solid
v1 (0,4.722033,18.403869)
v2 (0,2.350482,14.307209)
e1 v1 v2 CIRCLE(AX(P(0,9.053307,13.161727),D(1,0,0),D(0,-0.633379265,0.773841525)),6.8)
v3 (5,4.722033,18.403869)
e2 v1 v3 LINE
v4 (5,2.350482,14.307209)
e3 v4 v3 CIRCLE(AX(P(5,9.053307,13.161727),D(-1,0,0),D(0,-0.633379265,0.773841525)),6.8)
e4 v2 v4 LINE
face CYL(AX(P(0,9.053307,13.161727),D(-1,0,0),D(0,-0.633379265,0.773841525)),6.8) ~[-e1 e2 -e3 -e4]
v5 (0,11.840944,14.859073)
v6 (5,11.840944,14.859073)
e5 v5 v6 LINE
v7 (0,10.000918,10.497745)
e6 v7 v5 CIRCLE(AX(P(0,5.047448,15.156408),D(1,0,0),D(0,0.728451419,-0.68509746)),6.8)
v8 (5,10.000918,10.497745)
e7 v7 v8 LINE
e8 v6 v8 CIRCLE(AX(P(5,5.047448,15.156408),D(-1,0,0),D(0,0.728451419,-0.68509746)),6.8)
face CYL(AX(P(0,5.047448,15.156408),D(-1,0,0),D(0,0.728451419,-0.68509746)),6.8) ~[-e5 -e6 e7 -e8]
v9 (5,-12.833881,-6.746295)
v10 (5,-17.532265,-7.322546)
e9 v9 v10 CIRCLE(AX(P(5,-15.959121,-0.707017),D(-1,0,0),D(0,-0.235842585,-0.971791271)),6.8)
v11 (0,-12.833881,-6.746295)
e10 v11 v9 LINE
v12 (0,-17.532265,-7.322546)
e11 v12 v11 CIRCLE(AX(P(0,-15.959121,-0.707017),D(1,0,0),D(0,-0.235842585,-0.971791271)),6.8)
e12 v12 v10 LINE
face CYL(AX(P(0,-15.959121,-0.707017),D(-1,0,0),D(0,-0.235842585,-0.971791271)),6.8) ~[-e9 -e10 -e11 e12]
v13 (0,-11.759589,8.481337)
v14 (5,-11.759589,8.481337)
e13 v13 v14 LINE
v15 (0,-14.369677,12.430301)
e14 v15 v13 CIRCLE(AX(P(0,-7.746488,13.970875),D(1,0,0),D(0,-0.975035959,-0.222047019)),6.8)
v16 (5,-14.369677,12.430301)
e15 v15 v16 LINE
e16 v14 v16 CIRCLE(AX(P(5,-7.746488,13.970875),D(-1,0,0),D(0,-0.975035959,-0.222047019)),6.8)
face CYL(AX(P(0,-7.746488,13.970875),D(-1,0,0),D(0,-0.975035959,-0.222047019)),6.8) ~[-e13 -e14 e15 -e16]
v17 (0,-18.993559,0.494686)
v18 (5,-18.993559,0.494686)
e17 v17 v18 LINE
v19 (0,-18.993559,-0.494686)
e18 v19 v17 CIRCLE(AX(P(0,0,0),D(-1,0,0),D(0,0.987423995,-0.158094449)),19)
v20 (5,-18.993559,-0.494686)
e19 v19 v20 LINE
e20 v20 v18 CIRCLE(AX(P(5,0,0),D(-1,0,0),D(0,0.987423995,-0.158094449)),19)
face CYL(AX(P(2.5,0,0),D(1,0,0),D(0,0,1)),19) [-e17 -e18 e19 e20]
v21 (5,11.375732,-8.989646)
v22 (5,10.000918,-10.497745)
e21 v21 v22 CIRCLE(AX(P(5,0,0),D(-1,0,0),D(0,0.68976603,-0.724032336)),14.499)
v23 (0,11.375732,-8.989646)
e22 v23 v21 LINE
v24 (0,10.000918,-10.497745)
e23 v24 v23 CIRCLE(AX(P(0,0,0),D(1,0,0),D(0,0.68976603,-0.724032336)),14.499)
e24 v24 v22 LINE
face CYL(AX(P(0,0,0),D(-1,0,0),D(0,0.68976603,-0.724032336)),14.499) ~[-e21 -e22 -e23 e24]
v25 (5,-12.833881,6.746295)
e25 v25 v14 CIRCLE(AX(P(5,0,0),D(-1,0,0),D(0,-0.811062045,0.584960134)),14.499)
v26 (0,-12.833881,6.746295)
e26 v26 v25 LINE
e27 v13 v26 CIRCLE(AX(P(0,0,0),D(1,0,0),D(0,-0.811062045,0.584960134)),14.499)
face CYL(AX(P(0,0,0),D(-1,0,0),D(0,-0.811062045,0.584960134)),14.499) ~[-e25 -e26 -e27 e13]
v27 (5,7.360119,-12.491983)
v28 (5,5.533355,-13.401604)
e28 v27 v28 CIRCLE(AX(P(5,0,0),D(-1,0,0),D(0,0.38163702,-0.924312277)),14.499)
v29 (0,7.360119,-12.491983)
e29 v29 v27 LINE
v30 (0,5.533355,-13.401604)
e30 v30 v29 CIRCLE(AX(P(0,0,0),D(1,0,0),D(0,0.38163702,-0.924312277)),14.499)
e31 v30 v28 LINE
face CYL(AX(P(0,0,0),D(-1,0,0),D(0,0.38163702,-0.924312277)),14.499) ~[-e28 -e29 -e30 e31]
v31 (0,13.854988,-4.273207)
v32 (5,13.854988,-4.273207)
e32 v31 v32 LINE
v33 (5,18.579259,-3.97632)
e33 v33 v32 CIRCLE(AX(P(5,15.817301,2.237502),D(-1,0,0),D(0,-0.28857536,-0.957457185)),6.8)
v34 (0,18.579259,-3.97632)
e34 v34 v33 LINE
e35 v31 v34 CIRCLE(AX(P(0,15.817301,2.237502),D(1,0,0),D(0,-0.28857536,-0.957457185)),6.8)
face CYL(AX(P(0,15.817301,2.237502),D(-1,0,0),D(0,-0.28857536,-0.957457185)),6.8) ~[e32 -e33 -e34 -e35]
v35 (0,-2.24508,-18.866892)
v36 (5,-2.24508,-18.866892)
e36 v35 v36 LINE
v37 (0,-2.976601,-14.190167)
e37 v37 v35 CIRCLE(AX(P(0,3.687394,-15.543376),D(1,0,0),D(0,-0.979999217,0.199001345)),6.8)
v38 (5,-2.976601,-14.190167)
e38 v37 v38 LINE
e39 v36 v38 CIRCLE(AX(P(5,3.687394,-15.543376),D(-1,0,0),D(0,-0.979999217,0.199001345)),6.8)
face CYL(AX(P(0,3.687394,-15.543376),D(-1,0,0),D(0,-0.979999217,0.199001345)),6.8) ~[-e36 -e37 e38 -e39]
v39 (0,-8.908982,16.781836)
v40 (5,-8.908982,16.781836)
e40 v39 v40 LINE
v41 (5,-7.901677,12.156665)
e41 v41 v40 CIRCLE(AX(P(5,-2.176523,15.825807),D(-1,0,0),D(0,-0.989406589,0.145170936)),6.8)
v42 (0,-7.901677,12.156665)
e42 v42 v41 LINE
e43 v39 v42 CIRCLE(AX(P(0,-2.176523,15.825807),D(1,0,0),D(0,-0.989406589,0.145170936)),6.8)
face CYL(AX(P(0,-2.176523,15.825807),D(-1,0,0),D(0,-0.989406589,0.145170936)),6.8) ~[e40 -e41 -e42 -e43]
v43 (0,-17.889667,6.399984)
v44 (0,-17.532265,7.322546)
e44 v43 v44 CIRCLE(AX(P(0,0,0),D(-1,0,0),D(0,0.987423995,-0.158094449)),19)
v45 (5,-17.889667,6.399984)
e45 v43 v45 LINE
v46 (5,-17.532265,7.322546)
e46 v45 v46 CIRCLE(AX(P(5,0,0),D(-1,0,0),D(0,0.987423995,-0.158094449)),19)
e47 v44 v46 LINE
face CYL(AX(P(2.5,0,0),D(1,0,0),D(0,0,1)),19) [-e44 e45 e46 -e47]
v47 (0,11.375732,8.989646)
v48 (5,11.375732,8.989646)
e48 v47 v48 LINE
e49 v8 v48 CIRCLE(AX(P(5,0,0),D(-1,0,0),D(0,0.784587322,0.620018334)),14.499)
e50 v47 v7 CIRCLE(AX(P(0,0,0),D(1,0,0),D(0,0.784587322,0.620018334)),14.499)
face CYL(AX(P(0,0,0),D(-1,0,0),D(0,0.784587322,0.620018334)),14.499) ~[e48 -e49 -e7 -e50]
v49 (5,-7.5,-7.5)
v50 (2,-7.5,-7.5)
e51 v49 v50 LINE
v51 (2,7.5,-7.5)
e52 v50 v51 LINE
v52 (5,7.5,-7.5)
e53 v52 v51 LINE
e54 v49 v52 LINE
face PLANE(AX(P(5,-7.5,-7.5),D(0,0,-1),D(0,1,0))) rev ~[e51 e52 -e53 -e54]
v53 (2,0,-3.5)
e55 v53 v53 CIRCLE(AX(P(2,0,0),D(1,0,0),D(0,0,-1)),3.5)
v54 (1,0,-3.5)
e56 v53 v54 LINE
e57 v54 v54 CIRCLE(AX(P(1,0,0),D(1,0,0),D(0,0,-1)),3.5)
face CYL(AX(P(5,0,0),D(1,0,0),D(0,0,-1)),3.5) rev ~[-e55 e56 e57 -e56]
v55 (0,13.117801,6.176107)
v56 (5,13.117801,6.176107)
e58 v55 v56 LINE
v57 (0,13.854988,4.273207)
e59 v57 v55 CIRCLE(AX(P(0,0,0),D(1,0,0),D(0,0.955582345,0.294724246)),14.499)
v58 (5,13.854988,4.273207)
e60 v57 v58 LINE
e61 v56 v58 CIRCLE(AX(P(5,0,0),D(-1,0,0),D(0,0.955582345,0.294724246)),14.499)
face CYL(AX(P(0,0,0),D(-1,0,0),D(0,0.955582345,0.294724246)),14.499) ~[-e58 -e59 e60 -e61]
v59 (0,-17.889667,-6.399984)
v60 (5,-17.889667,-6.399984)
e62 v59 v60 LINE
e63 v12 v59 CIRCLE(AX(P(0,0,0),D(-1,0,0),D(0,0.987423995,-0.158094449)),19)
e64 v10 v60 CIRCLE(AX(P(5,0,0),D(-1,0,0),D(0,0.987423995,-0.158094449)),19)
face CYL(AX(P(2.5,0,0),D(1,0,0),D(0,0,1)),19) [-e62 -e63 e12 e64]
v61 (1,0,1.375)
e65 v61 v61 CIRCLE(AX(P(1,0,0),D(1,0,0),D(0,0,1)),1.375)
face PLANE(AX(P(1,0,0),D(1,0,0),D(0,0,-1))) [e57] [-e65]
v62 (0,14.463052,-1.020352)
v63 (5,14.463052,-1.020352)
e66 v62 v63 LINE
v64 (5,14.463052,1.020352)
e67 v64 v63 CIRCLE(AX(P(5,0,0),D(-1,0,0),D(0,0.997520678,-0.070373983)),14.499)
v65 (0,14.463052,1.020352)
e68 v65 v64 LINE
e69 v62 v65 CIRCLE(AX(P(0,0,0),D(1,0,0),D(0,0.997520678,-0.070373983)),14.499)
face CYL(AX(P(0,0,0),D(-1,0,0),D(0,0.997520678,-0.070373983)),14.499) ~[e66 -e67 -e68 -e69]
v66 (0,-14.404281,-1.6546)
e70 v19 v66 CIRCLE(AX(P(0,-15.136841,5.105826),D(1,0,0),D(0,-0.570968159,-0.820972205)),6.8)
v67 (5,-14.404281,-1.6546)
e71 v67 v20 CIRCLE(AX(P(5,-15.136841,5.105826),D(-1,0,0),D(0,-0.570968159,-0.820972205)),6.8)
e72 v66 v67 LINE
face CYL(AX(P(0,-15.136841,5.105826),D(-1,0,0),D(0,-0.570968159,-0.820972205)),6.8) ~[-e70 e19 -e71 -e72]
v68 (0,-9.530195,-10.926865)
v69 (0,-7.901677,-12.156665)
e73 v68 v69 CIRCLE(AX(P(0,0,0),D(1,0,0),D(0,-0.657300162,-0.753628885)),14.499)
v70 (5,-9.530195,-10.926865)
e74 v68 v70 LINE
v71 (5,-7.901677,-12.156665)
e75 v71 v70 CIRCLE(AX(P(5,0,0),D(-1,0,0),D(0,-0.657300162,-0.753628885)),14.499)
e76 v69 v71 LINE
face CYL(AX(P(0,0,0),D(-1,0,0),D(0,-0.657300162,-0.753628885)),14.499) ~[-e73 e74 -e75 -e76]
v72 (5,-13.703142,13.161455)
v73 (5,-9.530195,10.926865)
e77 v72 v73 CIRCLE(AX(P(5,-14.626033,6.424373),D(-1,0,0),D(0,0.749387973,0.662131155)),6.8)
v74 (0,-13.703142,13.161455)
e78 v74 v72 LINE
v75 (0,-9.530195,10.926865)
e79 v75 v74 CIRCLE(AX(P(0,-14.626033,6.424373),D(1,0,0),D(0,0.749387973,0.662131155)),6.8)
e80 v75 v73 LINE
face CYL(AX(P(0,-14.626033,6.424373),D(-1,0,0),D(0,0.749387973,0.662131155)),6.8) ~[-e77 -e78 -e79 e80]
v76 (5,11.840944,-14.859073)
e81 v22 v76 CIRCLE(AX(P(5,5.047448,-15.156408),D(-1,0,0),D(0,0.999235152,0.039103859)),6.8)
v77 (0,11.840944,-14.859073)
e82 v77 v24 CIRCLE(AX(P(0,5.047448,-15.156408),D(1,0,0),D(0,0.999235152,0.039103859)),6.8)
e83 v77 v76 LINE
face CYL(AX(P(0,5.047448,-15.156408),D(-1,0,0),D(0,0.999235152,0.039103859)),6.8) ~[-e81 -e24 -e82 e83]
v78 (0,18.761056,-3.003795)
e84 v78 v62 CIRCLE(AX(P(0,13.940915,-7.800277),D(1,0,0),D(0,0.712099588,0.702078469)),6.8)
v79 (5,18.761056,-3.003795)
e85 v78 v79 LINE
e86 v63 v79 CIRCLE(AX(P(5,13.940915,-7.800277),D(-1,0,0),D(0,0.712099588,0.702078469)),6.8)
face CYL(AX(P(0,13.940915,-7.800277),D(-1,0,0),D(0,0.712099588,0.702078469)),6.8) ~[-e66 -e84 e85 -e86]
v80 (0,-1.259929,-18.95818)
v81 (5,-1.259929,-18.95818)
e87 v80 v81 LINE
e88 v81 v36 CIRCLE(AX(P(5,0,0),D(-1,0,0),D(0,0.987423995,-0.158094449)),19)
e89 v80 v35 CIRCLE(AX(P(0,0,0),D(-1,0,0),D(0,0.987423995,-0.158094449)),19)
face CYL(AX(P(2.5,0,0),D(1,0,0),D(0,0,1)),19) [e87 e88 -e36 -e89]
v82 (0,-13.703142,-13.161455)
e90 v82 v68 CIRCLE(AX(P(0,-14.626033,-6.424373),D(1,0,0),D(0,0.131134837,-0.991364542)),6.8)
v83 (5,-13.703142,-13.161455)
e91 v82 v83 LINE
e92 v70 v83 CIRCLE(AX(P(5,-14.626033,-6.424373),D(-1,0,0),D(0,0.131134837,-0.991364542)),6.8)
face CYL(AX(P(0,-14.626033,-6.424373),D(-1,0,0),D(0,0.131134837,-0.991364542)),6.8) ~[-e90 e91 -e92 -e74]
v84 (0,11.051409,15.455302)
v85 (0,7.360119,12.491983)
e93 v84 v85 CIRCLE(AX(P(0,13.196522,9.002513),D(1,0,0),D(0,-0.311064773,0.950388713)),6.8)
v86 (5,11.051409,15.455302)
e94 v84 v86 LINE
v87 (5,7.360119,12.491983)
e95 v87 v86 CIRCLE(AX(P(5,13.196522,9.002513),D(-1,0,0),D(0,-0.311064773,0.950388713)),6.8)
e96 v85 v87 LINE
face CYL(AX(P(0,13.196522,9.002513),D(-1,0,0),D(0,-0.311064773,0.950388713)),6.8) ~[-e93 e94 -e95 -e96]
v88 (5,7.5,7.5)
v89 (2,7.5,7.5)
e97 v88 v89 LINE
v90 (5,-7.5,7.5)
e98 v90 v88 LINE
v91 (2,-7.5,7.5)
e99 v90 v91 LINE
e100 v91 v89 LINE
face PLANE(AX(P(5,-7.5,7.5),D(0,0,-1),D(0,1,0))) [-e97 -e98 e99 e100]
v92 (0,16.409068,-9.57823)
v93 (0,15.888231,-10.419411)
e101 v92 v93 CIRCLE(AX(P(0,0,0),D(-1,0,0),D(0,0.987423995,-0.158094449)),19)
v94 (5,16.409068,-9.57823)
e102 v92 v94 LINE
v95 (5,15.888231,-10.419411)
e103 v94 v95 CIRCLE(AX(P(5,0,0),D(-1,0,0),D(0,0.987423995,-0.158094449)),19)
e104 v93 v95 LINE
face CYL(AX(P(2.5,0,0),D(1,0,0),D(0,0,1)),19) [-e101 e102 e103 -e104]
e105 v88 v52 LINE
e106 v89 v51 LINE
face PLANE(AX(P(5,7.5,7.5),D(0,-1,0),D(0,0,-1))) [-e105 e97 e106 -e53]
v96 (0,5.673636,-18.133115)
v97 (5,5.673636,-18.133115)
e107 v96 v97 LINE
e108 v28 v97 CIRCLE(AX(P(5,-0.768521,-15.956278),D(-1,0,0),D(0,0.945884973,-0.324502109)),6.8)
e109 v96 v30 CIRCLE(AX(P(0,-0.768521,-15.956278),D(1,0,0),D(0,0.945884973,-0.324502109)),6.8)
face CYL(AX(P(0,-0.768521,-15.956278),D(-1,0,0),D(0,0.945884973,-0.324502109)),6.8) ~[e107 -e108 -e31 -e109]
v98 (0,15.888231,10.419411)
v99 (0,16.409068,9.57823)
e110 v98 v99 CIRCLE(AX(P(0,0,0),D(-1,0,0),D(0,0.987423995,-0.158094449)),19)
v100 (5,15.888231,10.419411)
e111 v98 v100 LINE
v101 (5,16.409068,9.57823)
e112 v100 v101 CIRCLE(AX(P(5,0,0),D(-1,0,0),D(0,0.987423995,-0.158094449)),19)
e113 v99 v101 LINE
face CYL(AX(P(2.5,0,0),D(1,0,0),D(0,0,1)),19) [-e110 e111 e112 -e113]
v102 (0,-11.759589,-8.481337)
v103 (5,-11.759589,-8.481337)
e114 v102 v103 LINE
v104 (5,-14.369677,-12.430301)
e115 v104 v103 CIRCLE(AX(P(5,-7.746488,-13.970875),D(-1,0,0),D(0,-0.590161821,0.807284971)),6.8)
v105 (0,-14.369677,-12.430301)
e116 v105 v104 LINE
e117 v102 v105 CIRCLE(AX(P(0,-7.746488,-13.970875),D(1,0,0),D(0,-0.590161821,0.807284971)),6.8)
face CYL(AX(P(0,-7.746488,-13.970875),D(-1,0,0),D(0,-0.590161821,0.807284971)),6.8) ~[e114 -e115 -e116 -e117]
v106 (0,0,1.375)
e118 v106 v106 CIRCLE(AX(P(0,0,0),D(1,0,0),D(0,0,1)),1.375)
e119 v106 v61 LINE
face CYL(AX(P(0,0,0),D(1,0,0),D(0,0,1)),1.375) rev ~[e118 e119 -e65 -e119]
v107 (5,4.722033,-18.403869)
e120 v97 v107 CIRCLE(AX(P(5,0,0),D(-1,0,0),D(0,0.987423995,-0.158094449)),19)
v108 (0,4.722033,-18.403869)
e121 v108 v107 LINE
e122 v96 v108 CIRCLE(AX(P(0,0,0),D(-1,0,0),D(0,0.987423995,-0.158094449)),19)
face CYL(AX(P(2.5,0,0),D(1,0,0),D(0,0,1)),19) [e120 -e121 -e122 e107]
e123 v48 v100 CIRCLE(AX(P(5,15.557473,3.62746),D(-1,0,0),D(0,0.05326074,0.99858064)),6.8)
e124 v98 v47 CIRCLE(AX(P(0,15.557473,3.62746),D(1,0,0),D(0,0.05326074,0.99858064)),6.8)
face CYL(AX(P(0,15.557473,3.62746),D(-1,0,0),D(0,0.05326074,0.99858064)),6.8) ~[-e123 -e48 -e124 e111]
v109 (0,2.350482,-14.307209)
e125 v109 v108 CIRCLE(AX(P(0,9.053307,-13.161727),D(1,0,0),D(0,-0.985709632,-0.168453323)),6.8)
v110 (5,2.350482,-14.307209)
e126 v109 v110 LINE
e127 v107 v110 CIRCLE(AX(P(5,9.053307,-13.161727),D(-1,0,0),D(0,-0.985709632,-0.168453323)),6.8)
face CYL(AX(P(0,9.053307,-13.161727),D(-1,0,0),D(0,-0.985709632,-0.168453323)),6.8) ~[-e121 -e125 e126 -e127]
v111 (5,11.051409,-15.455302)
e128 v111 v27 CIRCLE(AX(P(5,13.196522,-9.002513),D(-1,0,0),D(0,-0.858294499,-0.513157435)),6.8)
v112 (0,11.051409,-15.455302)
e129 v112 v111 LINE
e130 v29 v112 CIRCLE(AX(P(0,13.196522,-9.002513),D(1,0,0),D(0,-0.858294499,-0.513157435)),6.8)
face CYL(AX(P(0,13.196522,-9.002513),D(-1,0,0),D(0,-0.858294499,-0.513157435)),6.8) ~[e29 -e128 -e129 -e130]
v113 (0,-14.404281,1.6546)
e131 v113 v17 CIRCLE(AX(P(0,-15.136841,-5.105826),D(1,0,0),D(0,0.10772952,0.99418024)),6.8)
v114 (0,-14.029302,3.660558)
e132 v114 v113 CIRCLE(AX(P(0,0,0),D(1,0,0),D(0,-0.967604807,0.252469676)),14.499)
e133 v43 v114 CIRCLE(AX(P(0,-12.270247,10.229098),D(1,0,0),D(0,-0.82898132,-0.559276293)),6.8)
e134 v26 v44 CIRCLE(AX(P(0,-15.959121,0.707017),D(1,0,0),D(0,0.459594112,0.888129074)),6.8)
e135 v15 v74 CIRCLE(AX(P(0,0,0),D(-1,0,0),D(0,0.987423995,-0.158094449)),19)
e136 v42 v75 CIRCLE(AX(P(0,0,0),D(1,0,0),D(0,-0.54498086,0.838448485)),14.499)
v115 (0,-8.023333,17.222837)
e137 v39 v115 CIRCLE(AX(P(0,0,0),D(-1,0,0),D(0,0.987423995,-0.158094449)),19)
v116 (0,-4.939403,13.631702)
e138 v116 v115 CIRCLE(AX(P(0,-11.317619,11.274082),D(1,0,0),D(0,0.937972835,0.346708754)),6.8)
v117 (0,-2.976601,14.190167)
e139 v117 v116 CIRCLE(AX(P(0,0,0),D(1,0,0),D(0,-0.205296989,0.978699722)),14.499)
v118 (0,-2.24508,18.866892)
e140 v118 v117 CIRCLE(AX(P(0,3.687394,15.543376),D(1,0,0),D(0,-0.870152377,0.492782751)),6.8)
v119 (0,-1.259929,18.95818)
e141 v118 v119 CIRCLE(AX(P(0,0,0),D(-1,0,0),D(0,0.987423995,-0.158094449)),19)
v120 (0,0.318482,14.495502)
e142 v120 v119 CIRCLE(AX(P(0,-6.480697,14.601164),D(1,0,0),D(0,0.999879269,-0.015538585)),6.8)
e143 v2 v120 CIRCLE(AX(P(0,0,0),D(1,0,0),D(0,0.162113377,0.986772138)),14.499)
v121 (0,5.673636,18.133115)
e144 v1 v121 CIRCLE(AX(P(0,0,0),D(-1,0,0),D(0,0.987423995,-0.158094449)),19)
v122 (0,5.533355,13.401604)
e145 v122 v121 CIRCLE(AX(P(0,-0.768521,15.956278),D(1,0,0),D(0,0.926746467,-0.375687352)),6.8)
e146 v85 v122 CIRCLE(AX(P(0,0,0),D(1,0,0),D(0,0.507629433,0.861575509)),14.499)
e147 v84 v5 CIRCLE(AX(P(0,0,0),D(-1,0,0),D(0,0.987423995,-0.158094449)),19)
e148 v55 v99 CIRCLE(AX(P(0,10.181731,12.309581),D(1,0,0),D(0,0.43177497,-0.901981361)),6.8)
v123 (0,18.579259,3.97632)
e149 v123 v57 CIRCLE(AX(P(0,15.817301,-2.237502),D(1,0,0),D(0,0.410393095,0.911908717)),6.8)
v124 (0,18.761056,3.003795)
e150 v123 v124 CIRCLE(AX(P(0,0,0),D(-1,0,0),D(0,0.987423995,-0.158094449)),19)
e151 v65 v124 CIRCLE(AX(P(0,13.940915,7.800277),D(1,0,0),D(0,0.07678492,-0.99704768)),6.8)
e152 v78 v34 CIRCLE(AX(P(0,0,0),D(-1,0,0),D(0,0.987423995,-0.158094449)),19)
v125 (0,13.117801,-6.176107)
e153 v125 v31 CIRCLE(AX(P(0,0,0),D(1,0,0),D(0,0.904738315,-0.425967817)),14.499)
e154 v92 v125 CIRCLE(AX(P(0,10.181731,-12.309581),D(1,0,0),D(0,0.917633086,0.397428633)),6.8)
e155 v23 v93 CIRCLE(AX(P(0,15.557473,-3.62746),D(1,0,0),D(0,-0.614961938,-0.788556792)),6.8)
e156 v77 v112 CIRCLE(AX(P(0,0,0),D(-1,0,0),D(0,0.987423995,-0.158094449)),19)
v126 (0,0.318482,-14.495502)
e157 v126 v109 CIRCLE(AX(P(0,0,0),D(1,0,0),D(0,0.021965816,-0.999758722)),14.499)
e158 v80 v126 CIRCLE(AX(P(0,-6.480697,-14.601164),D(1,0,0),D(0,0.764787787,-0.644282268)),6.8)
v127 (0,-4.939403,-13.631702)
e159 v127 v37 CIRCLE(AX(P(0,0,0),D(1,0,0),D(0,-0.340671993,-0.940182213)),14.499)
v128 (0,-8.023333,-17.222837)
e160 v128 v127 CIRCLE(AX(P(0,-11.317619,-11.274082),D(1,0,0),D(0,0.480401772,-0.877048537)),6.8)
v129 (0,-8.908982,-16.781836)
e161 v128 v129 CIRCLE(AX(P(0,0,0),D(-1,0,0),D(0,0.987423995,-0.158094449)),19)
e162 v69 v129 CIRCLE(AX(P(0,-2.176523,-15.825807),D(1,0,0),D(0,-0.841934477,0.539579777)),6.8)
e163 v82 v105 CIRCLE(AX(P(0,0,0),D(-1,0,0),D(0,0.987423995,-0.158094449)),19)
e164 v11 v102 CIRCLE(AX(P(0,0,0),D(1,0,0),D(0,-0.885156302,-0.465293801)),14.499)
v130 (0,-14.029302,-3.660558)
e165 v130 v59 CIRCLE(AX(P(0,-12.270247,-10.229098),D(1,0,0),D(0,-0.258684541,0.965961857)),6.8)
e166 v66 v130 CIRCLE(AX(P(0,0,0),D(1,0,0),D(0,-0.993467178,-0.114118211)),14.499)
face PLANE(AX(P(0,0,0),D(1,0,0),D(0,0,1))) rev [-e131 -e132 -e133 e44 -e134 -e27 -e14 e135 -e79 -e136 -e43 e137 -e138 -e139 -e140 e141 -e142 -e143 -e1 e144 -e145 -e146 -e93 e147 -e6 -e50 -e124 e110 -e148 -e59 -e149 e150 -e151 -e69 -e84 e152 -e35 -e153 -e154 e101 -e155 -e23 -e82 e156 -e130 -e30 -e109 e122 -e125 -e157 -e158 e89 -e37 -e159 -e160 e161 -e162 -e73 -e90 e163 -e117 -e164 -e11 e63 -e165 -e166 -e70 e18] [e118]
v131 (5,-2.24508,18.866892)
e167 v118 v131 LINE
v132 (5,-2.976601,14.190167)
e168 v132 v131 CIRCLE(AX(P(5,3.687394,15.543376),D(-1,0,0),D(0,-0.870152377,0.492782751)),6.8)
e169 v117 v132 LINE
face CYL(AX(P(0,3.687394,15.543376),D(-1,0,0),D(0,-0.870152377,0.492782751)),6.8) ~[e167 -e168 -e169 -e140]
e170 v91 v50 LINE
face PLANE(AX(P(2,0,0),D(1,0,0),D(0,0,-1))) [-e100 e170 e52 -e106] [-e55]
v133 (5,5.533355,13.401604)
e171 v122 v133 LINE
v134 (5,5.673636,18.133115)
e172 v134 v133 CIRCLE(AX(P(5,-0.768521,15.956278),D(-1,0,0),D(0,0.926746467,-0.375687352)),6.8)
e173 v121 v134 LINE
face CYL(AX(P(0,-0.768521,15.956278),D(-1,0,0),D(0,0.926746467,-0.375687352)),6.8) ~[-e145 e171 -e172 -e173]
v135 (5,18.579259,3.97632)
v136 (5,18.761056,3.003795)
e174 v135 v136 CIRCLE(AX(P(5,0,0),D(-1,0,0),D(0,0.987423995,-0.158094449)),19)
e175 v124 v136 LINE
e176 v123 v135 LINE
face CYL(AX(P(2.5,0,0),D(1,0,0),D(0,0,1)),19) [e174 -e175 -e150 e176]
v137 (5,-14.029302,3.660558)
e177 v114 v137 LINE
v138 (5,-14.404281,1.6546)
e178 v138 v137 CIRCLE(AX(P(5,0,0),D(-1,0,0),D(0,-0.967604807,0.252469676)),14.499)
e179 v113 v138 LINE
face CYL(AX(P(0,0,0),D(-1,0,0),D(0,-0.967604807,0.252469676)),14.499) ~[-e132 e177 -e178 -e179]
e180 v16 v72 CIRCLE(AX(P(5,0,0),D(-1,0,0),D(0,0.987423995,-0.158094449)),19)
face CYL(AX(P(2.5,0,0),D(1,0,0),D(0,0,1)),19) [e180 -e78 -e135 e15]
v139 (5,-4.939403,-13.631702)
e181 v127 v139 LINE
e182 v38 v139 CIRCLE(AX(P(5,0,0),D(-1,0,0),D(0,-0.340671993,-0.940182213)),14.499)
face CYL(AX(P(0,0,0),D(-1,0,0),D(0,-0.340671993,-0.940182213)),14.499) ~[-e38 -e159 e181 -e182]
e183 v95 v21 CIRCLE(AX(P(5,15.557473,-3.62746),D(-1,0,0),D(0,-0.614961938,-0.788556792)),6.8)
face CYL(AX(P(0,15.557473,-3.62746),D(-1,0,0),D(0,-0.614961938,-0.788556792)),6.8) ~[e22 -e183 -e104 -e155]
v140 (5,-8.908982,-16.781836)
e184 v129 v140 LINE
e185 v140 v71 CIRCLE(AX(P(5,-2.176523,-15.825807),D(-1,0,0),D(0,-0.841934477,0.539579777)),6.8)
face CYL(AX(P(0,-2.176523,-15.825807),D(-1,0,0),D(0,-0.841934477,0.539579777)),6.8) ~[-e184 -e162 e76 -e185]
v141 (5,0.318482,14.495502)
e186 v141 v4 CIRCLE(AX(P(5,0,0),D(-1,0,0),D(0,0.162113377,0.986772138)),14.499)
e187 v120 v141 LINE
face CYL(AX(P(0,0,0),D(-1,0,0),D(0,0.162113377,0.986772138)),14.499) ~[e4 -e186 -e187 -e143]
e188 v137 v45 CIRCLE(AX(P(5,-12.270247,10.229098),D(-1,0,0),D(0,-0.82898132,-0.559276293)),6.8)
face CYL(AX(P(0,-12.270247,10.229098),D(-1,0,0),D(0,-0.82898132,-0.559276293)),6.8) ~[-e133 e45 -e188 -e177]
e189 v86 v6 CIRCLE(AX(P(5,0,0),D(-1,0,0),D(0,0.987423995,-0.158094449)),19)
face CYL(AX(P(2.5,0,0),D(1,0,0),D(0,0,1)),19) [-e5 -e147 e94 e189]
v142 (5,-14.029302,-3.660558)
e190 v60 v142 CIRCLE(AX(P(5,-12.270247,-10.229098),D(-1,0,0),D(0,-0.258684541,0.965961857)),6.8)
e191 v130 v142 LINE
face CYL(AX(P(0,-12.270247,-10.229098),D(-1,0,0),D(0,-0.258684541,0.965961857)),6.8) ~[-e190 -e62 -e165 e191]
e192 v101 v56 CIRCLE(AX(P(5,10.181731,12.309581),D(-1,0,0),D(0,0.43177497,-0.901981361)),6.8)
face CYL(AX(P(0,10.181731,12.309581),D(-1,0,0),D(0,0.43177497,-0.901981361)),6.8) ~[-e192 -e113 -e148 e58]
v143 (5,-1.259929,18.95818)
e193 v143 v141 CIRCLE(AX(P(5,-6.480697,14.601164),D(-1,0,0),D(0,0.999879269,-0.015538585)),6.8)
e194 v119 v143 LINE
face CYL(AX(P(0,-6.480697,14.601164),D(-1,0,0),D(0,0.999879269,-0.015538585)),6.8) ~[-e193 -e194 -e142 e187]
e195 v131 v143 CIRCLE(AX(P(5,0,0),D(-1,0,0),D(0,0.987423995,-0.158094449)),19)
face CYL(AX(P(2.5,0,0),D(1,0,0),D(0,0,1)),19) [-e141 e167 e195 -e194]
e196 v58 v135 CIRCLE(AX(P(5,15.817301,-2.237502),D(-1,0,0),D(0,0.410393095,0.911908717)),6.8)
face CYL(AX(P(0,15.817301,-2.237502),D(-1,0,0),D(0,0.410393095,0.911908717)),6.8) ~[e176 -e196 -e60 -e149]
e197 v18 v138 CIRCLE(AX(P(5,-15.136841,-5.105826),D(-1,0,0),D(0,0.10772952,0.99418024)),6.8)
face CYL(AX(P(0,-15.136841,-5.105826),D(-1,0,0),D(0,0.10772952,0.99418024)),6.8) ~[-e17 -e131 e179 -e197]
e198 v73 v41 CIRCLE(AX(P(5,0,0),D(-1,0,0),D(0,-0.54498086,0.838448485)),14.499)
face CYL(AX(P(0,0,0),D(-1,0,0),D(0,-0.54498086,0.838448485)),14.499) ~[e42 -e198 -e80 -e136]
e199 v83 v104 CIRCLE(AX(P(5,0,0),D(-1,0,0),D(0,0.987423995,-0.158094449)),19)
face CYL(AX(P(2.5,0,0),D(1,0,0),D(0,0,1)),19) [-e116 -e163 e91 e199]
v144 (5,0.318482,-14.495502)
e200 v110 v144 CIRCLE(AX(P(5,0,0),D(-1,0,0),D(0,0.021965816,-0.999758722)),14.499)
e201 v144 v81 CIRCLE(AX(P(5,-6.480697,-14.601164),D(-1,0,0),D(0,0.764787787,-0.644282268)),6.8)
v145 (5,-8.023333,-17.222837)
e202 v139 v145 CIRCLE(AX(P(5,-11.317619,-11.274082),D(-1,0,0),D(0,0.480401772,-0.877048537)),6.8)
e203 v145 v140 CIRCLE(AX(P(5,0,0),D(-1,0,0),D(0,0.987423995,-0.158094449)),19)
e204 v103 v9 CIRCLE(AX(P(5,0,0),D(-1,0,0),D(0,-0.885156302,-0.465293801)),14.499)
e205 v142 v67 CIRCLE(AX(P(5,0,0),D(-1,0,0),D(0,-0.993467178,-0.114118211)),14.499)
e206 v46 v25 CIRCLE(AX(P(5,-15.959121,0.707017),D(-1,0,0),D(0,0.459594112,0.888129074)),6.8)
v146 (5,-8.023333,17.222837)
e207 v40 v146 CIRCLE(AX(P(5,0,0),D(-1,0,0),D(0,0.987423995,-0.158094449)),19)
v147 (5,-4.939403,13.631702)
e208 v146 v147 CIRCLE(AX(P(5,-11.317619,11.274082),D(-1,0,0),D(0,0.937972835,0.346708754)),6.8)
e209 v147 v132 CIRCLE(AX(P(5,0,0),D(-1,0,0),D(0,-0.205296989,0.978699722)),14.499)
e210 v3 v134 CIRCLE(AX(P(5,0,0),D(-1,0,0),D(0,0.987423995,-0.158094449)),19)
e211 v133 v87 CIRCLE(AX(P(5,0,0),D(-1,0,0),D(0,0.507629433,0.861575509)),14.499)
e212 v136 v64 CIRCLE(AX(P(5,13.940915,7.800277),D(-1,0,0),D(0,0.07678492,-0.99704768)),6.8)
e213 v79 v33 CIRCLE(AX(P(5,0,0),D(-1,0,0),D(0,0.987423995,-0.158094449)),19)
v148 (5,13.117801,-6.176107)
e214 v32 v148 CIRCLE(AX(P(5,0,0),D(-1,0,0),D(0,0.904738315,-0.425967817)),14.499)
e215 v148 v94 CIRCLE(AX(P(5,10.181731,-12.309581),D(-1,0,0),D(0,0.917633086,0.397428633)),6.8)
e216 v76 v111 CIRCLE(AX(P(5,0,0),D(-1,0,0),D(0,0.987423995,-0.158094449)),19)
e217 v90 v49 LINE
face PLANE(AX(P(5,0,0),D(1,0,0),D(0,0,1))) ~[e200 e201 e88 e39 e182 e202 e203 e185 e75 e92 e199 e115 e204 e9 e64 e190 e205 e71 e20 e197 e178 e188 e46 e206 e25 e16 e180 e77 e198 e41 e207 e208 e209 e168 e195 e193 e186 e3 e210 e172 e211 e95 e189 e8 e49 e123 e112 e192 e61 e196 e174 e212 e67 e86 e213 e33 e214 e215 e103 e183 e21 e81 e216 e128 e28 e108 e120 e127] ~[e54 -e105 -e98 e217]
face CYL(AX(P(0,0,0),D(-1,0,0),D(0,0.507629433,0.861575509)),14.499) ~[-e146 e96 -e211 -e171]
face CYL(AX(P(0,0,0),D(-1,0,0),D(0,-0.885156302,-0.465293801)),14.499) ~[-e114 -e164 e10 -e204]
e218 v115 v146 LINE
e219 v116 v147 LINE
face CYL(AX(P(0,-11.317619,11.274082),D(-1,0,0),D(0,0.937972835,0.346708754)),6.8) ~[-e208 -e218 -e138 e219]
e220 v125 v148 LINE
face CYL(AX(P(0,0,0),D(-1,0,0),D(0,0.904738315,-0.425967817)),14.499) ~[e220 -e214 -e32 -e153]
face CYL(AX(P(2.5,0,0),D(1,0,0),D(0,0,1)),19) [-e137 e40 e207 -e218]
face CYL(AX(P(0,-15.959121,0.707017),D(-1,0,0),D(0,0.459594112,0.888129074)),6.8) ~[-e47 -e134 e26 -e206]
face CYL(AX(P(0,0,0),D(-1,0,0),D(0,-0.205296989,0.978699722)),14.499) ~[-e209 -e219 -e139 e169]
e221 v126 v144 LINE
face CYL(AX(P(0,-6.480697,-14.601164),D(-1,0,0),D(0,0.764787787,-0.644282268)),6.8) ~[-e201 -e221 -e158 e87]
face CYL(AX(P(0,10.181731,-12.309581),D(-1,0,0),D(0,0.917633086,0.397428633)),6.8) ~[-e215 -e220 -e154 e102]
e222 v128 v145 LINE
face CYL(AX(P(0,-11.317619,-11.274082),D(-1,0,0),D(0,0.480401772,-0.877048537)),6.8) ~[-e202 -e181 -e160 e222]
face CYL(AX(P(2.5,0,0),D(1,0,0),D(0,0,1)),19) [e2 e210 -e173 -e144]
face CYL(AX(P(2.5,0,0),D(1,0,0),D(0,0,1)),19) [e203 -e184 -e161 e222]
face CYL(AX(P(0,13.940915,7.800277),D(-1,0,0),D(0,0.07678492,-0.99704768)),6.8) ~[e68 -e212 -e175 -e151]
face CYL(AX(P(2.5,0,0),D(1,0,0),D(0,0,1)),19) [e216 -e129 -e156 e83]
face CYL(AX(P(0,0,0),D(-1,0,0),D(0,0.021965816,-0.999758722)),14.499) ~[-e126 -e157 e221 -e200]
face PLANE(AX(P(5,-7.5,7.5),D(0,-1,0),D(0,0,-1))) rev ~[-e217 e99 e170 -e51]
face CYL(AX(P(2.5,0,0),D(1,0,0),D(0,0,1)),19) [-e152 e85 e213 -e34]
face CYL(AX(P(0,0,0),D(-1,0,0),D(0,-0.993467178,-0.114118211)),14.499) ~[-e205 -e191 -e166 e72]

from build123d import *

# Parameters (mm, degrees)
BASPROSKE_W        = 5
BASPROSKE_H        = 19
TOOTHCUT_DEPTH     = 28.331300737
TEETHCUTS_COUNT    = 17
TEETHCUTS_ANGLE    = 338.823529412
BORSKE_R           = 1.375
BORE_DEPTH         = 50.0000508
SKETCH2_R          = 3.5
CUT_EXTRUDE2_DEPTH = 4
SKETCH1_W          = 15
SKETCH1_H          = 15
CUT_EXTRUDE1_DEPTH = 3


with BuildPart() as part:
    # BasProSke → Base-Revolve (revolve)
    with BuildSketch(Plane(origin=(0, 0, 0), x_dir=(1, 0, 0), z_dir=(0, 1, 0)), mode=Mode.PRIVATE) as base_revolve_sk:
        with Locations((2.5, 9.5)):
            Rectangle(BASPROSKE_W, BASPROSKE_H)
    revolve(base_revolve_sk.sketch.rotate(Axis((-10, 0, 0), (1, 0, 0)), 180), axis=Axis((-10, 0, 0), (1, 0, 0)))

    # TooCutSke → ToothCut (cut, through all)
    with BuildSketch(Plane(origin=(0, 0, 0), x_dir=(0, 0, -1), z_dir=(1, 0, 0))):
        with BuildLine():
            ThreePointArc((1.020352389, 14.463052306), (0, 14.499), (-1.020352389, 14.463052306))
            ThreePointArc((-1.020352389, 14.463052306), (-1.632621885, 16.804485203), (-3.026143023, 18.783192049))
            ThreePointArc((-3.026143023, 18.783192049), (0, 19.0254), (3.026143023, 18.783192049))
            ThreePointArc((3.026143023, 18.783192049), (1.632621885, 16.804485203), (1.020352389, 14.463052306))
        make_face()
    toothcut = extrude(amount=TOOTHCUT_DEPTH, mode=Mode.SUBTRACT)

    # TeethCuts: ToothCut ×17 about axis
    teethcuts_axis = Axis((-10, 0, 0), (1, 0, 0))
    for i in range(1, TEETHCUTS_COUNT):
        add(toothcut.rotate(teethcuts_axis, i * TEETHCUTS_ANGLE / (TEETHCUTS_COUNT - 1)), mode=Mode.SUBTRACT)

    # BorSke → Bore (cut, symmetric)
    with BuildSketch(Plane(origin=(0, 0, 0), x_dir=(0, 0, -1), z_dir=(1, 0, 0))):
        with Locations(Location((0, 0, 0), (0, 0, 180))):
            Circle(BORSKE_R)
    extrude(amount=BORE_DEPTH, both=True, mode=Mode.SUBTRACT)

    # Sketch2 → Cut-Extrude2 (cut)
    with BuildSketch(Plane(origin=(5, 0, 0), x_dir=(0, 0, -1), z_dir=(1, 0, 0))):
        Circle(SKETCH2_R)
    extrude(amount=-CUT_EXTRUDE2_DEPTH, mode=Mode.SUBTRACT)

    # Sketch1 → Cut-Extrude1 (cut)
    with BuildSketch(Plane(origin=(5, 0, 0), x_dir=(0, 0, -1), z_dir=(1, 0, 0))):
        Rectangle(SKETCH1_W, SKETCH1_H)
    extrude(amount=-CUT_EXTRUDE1_DEPTH, mode=Mode.SUBTRACT)


solid = part.part
